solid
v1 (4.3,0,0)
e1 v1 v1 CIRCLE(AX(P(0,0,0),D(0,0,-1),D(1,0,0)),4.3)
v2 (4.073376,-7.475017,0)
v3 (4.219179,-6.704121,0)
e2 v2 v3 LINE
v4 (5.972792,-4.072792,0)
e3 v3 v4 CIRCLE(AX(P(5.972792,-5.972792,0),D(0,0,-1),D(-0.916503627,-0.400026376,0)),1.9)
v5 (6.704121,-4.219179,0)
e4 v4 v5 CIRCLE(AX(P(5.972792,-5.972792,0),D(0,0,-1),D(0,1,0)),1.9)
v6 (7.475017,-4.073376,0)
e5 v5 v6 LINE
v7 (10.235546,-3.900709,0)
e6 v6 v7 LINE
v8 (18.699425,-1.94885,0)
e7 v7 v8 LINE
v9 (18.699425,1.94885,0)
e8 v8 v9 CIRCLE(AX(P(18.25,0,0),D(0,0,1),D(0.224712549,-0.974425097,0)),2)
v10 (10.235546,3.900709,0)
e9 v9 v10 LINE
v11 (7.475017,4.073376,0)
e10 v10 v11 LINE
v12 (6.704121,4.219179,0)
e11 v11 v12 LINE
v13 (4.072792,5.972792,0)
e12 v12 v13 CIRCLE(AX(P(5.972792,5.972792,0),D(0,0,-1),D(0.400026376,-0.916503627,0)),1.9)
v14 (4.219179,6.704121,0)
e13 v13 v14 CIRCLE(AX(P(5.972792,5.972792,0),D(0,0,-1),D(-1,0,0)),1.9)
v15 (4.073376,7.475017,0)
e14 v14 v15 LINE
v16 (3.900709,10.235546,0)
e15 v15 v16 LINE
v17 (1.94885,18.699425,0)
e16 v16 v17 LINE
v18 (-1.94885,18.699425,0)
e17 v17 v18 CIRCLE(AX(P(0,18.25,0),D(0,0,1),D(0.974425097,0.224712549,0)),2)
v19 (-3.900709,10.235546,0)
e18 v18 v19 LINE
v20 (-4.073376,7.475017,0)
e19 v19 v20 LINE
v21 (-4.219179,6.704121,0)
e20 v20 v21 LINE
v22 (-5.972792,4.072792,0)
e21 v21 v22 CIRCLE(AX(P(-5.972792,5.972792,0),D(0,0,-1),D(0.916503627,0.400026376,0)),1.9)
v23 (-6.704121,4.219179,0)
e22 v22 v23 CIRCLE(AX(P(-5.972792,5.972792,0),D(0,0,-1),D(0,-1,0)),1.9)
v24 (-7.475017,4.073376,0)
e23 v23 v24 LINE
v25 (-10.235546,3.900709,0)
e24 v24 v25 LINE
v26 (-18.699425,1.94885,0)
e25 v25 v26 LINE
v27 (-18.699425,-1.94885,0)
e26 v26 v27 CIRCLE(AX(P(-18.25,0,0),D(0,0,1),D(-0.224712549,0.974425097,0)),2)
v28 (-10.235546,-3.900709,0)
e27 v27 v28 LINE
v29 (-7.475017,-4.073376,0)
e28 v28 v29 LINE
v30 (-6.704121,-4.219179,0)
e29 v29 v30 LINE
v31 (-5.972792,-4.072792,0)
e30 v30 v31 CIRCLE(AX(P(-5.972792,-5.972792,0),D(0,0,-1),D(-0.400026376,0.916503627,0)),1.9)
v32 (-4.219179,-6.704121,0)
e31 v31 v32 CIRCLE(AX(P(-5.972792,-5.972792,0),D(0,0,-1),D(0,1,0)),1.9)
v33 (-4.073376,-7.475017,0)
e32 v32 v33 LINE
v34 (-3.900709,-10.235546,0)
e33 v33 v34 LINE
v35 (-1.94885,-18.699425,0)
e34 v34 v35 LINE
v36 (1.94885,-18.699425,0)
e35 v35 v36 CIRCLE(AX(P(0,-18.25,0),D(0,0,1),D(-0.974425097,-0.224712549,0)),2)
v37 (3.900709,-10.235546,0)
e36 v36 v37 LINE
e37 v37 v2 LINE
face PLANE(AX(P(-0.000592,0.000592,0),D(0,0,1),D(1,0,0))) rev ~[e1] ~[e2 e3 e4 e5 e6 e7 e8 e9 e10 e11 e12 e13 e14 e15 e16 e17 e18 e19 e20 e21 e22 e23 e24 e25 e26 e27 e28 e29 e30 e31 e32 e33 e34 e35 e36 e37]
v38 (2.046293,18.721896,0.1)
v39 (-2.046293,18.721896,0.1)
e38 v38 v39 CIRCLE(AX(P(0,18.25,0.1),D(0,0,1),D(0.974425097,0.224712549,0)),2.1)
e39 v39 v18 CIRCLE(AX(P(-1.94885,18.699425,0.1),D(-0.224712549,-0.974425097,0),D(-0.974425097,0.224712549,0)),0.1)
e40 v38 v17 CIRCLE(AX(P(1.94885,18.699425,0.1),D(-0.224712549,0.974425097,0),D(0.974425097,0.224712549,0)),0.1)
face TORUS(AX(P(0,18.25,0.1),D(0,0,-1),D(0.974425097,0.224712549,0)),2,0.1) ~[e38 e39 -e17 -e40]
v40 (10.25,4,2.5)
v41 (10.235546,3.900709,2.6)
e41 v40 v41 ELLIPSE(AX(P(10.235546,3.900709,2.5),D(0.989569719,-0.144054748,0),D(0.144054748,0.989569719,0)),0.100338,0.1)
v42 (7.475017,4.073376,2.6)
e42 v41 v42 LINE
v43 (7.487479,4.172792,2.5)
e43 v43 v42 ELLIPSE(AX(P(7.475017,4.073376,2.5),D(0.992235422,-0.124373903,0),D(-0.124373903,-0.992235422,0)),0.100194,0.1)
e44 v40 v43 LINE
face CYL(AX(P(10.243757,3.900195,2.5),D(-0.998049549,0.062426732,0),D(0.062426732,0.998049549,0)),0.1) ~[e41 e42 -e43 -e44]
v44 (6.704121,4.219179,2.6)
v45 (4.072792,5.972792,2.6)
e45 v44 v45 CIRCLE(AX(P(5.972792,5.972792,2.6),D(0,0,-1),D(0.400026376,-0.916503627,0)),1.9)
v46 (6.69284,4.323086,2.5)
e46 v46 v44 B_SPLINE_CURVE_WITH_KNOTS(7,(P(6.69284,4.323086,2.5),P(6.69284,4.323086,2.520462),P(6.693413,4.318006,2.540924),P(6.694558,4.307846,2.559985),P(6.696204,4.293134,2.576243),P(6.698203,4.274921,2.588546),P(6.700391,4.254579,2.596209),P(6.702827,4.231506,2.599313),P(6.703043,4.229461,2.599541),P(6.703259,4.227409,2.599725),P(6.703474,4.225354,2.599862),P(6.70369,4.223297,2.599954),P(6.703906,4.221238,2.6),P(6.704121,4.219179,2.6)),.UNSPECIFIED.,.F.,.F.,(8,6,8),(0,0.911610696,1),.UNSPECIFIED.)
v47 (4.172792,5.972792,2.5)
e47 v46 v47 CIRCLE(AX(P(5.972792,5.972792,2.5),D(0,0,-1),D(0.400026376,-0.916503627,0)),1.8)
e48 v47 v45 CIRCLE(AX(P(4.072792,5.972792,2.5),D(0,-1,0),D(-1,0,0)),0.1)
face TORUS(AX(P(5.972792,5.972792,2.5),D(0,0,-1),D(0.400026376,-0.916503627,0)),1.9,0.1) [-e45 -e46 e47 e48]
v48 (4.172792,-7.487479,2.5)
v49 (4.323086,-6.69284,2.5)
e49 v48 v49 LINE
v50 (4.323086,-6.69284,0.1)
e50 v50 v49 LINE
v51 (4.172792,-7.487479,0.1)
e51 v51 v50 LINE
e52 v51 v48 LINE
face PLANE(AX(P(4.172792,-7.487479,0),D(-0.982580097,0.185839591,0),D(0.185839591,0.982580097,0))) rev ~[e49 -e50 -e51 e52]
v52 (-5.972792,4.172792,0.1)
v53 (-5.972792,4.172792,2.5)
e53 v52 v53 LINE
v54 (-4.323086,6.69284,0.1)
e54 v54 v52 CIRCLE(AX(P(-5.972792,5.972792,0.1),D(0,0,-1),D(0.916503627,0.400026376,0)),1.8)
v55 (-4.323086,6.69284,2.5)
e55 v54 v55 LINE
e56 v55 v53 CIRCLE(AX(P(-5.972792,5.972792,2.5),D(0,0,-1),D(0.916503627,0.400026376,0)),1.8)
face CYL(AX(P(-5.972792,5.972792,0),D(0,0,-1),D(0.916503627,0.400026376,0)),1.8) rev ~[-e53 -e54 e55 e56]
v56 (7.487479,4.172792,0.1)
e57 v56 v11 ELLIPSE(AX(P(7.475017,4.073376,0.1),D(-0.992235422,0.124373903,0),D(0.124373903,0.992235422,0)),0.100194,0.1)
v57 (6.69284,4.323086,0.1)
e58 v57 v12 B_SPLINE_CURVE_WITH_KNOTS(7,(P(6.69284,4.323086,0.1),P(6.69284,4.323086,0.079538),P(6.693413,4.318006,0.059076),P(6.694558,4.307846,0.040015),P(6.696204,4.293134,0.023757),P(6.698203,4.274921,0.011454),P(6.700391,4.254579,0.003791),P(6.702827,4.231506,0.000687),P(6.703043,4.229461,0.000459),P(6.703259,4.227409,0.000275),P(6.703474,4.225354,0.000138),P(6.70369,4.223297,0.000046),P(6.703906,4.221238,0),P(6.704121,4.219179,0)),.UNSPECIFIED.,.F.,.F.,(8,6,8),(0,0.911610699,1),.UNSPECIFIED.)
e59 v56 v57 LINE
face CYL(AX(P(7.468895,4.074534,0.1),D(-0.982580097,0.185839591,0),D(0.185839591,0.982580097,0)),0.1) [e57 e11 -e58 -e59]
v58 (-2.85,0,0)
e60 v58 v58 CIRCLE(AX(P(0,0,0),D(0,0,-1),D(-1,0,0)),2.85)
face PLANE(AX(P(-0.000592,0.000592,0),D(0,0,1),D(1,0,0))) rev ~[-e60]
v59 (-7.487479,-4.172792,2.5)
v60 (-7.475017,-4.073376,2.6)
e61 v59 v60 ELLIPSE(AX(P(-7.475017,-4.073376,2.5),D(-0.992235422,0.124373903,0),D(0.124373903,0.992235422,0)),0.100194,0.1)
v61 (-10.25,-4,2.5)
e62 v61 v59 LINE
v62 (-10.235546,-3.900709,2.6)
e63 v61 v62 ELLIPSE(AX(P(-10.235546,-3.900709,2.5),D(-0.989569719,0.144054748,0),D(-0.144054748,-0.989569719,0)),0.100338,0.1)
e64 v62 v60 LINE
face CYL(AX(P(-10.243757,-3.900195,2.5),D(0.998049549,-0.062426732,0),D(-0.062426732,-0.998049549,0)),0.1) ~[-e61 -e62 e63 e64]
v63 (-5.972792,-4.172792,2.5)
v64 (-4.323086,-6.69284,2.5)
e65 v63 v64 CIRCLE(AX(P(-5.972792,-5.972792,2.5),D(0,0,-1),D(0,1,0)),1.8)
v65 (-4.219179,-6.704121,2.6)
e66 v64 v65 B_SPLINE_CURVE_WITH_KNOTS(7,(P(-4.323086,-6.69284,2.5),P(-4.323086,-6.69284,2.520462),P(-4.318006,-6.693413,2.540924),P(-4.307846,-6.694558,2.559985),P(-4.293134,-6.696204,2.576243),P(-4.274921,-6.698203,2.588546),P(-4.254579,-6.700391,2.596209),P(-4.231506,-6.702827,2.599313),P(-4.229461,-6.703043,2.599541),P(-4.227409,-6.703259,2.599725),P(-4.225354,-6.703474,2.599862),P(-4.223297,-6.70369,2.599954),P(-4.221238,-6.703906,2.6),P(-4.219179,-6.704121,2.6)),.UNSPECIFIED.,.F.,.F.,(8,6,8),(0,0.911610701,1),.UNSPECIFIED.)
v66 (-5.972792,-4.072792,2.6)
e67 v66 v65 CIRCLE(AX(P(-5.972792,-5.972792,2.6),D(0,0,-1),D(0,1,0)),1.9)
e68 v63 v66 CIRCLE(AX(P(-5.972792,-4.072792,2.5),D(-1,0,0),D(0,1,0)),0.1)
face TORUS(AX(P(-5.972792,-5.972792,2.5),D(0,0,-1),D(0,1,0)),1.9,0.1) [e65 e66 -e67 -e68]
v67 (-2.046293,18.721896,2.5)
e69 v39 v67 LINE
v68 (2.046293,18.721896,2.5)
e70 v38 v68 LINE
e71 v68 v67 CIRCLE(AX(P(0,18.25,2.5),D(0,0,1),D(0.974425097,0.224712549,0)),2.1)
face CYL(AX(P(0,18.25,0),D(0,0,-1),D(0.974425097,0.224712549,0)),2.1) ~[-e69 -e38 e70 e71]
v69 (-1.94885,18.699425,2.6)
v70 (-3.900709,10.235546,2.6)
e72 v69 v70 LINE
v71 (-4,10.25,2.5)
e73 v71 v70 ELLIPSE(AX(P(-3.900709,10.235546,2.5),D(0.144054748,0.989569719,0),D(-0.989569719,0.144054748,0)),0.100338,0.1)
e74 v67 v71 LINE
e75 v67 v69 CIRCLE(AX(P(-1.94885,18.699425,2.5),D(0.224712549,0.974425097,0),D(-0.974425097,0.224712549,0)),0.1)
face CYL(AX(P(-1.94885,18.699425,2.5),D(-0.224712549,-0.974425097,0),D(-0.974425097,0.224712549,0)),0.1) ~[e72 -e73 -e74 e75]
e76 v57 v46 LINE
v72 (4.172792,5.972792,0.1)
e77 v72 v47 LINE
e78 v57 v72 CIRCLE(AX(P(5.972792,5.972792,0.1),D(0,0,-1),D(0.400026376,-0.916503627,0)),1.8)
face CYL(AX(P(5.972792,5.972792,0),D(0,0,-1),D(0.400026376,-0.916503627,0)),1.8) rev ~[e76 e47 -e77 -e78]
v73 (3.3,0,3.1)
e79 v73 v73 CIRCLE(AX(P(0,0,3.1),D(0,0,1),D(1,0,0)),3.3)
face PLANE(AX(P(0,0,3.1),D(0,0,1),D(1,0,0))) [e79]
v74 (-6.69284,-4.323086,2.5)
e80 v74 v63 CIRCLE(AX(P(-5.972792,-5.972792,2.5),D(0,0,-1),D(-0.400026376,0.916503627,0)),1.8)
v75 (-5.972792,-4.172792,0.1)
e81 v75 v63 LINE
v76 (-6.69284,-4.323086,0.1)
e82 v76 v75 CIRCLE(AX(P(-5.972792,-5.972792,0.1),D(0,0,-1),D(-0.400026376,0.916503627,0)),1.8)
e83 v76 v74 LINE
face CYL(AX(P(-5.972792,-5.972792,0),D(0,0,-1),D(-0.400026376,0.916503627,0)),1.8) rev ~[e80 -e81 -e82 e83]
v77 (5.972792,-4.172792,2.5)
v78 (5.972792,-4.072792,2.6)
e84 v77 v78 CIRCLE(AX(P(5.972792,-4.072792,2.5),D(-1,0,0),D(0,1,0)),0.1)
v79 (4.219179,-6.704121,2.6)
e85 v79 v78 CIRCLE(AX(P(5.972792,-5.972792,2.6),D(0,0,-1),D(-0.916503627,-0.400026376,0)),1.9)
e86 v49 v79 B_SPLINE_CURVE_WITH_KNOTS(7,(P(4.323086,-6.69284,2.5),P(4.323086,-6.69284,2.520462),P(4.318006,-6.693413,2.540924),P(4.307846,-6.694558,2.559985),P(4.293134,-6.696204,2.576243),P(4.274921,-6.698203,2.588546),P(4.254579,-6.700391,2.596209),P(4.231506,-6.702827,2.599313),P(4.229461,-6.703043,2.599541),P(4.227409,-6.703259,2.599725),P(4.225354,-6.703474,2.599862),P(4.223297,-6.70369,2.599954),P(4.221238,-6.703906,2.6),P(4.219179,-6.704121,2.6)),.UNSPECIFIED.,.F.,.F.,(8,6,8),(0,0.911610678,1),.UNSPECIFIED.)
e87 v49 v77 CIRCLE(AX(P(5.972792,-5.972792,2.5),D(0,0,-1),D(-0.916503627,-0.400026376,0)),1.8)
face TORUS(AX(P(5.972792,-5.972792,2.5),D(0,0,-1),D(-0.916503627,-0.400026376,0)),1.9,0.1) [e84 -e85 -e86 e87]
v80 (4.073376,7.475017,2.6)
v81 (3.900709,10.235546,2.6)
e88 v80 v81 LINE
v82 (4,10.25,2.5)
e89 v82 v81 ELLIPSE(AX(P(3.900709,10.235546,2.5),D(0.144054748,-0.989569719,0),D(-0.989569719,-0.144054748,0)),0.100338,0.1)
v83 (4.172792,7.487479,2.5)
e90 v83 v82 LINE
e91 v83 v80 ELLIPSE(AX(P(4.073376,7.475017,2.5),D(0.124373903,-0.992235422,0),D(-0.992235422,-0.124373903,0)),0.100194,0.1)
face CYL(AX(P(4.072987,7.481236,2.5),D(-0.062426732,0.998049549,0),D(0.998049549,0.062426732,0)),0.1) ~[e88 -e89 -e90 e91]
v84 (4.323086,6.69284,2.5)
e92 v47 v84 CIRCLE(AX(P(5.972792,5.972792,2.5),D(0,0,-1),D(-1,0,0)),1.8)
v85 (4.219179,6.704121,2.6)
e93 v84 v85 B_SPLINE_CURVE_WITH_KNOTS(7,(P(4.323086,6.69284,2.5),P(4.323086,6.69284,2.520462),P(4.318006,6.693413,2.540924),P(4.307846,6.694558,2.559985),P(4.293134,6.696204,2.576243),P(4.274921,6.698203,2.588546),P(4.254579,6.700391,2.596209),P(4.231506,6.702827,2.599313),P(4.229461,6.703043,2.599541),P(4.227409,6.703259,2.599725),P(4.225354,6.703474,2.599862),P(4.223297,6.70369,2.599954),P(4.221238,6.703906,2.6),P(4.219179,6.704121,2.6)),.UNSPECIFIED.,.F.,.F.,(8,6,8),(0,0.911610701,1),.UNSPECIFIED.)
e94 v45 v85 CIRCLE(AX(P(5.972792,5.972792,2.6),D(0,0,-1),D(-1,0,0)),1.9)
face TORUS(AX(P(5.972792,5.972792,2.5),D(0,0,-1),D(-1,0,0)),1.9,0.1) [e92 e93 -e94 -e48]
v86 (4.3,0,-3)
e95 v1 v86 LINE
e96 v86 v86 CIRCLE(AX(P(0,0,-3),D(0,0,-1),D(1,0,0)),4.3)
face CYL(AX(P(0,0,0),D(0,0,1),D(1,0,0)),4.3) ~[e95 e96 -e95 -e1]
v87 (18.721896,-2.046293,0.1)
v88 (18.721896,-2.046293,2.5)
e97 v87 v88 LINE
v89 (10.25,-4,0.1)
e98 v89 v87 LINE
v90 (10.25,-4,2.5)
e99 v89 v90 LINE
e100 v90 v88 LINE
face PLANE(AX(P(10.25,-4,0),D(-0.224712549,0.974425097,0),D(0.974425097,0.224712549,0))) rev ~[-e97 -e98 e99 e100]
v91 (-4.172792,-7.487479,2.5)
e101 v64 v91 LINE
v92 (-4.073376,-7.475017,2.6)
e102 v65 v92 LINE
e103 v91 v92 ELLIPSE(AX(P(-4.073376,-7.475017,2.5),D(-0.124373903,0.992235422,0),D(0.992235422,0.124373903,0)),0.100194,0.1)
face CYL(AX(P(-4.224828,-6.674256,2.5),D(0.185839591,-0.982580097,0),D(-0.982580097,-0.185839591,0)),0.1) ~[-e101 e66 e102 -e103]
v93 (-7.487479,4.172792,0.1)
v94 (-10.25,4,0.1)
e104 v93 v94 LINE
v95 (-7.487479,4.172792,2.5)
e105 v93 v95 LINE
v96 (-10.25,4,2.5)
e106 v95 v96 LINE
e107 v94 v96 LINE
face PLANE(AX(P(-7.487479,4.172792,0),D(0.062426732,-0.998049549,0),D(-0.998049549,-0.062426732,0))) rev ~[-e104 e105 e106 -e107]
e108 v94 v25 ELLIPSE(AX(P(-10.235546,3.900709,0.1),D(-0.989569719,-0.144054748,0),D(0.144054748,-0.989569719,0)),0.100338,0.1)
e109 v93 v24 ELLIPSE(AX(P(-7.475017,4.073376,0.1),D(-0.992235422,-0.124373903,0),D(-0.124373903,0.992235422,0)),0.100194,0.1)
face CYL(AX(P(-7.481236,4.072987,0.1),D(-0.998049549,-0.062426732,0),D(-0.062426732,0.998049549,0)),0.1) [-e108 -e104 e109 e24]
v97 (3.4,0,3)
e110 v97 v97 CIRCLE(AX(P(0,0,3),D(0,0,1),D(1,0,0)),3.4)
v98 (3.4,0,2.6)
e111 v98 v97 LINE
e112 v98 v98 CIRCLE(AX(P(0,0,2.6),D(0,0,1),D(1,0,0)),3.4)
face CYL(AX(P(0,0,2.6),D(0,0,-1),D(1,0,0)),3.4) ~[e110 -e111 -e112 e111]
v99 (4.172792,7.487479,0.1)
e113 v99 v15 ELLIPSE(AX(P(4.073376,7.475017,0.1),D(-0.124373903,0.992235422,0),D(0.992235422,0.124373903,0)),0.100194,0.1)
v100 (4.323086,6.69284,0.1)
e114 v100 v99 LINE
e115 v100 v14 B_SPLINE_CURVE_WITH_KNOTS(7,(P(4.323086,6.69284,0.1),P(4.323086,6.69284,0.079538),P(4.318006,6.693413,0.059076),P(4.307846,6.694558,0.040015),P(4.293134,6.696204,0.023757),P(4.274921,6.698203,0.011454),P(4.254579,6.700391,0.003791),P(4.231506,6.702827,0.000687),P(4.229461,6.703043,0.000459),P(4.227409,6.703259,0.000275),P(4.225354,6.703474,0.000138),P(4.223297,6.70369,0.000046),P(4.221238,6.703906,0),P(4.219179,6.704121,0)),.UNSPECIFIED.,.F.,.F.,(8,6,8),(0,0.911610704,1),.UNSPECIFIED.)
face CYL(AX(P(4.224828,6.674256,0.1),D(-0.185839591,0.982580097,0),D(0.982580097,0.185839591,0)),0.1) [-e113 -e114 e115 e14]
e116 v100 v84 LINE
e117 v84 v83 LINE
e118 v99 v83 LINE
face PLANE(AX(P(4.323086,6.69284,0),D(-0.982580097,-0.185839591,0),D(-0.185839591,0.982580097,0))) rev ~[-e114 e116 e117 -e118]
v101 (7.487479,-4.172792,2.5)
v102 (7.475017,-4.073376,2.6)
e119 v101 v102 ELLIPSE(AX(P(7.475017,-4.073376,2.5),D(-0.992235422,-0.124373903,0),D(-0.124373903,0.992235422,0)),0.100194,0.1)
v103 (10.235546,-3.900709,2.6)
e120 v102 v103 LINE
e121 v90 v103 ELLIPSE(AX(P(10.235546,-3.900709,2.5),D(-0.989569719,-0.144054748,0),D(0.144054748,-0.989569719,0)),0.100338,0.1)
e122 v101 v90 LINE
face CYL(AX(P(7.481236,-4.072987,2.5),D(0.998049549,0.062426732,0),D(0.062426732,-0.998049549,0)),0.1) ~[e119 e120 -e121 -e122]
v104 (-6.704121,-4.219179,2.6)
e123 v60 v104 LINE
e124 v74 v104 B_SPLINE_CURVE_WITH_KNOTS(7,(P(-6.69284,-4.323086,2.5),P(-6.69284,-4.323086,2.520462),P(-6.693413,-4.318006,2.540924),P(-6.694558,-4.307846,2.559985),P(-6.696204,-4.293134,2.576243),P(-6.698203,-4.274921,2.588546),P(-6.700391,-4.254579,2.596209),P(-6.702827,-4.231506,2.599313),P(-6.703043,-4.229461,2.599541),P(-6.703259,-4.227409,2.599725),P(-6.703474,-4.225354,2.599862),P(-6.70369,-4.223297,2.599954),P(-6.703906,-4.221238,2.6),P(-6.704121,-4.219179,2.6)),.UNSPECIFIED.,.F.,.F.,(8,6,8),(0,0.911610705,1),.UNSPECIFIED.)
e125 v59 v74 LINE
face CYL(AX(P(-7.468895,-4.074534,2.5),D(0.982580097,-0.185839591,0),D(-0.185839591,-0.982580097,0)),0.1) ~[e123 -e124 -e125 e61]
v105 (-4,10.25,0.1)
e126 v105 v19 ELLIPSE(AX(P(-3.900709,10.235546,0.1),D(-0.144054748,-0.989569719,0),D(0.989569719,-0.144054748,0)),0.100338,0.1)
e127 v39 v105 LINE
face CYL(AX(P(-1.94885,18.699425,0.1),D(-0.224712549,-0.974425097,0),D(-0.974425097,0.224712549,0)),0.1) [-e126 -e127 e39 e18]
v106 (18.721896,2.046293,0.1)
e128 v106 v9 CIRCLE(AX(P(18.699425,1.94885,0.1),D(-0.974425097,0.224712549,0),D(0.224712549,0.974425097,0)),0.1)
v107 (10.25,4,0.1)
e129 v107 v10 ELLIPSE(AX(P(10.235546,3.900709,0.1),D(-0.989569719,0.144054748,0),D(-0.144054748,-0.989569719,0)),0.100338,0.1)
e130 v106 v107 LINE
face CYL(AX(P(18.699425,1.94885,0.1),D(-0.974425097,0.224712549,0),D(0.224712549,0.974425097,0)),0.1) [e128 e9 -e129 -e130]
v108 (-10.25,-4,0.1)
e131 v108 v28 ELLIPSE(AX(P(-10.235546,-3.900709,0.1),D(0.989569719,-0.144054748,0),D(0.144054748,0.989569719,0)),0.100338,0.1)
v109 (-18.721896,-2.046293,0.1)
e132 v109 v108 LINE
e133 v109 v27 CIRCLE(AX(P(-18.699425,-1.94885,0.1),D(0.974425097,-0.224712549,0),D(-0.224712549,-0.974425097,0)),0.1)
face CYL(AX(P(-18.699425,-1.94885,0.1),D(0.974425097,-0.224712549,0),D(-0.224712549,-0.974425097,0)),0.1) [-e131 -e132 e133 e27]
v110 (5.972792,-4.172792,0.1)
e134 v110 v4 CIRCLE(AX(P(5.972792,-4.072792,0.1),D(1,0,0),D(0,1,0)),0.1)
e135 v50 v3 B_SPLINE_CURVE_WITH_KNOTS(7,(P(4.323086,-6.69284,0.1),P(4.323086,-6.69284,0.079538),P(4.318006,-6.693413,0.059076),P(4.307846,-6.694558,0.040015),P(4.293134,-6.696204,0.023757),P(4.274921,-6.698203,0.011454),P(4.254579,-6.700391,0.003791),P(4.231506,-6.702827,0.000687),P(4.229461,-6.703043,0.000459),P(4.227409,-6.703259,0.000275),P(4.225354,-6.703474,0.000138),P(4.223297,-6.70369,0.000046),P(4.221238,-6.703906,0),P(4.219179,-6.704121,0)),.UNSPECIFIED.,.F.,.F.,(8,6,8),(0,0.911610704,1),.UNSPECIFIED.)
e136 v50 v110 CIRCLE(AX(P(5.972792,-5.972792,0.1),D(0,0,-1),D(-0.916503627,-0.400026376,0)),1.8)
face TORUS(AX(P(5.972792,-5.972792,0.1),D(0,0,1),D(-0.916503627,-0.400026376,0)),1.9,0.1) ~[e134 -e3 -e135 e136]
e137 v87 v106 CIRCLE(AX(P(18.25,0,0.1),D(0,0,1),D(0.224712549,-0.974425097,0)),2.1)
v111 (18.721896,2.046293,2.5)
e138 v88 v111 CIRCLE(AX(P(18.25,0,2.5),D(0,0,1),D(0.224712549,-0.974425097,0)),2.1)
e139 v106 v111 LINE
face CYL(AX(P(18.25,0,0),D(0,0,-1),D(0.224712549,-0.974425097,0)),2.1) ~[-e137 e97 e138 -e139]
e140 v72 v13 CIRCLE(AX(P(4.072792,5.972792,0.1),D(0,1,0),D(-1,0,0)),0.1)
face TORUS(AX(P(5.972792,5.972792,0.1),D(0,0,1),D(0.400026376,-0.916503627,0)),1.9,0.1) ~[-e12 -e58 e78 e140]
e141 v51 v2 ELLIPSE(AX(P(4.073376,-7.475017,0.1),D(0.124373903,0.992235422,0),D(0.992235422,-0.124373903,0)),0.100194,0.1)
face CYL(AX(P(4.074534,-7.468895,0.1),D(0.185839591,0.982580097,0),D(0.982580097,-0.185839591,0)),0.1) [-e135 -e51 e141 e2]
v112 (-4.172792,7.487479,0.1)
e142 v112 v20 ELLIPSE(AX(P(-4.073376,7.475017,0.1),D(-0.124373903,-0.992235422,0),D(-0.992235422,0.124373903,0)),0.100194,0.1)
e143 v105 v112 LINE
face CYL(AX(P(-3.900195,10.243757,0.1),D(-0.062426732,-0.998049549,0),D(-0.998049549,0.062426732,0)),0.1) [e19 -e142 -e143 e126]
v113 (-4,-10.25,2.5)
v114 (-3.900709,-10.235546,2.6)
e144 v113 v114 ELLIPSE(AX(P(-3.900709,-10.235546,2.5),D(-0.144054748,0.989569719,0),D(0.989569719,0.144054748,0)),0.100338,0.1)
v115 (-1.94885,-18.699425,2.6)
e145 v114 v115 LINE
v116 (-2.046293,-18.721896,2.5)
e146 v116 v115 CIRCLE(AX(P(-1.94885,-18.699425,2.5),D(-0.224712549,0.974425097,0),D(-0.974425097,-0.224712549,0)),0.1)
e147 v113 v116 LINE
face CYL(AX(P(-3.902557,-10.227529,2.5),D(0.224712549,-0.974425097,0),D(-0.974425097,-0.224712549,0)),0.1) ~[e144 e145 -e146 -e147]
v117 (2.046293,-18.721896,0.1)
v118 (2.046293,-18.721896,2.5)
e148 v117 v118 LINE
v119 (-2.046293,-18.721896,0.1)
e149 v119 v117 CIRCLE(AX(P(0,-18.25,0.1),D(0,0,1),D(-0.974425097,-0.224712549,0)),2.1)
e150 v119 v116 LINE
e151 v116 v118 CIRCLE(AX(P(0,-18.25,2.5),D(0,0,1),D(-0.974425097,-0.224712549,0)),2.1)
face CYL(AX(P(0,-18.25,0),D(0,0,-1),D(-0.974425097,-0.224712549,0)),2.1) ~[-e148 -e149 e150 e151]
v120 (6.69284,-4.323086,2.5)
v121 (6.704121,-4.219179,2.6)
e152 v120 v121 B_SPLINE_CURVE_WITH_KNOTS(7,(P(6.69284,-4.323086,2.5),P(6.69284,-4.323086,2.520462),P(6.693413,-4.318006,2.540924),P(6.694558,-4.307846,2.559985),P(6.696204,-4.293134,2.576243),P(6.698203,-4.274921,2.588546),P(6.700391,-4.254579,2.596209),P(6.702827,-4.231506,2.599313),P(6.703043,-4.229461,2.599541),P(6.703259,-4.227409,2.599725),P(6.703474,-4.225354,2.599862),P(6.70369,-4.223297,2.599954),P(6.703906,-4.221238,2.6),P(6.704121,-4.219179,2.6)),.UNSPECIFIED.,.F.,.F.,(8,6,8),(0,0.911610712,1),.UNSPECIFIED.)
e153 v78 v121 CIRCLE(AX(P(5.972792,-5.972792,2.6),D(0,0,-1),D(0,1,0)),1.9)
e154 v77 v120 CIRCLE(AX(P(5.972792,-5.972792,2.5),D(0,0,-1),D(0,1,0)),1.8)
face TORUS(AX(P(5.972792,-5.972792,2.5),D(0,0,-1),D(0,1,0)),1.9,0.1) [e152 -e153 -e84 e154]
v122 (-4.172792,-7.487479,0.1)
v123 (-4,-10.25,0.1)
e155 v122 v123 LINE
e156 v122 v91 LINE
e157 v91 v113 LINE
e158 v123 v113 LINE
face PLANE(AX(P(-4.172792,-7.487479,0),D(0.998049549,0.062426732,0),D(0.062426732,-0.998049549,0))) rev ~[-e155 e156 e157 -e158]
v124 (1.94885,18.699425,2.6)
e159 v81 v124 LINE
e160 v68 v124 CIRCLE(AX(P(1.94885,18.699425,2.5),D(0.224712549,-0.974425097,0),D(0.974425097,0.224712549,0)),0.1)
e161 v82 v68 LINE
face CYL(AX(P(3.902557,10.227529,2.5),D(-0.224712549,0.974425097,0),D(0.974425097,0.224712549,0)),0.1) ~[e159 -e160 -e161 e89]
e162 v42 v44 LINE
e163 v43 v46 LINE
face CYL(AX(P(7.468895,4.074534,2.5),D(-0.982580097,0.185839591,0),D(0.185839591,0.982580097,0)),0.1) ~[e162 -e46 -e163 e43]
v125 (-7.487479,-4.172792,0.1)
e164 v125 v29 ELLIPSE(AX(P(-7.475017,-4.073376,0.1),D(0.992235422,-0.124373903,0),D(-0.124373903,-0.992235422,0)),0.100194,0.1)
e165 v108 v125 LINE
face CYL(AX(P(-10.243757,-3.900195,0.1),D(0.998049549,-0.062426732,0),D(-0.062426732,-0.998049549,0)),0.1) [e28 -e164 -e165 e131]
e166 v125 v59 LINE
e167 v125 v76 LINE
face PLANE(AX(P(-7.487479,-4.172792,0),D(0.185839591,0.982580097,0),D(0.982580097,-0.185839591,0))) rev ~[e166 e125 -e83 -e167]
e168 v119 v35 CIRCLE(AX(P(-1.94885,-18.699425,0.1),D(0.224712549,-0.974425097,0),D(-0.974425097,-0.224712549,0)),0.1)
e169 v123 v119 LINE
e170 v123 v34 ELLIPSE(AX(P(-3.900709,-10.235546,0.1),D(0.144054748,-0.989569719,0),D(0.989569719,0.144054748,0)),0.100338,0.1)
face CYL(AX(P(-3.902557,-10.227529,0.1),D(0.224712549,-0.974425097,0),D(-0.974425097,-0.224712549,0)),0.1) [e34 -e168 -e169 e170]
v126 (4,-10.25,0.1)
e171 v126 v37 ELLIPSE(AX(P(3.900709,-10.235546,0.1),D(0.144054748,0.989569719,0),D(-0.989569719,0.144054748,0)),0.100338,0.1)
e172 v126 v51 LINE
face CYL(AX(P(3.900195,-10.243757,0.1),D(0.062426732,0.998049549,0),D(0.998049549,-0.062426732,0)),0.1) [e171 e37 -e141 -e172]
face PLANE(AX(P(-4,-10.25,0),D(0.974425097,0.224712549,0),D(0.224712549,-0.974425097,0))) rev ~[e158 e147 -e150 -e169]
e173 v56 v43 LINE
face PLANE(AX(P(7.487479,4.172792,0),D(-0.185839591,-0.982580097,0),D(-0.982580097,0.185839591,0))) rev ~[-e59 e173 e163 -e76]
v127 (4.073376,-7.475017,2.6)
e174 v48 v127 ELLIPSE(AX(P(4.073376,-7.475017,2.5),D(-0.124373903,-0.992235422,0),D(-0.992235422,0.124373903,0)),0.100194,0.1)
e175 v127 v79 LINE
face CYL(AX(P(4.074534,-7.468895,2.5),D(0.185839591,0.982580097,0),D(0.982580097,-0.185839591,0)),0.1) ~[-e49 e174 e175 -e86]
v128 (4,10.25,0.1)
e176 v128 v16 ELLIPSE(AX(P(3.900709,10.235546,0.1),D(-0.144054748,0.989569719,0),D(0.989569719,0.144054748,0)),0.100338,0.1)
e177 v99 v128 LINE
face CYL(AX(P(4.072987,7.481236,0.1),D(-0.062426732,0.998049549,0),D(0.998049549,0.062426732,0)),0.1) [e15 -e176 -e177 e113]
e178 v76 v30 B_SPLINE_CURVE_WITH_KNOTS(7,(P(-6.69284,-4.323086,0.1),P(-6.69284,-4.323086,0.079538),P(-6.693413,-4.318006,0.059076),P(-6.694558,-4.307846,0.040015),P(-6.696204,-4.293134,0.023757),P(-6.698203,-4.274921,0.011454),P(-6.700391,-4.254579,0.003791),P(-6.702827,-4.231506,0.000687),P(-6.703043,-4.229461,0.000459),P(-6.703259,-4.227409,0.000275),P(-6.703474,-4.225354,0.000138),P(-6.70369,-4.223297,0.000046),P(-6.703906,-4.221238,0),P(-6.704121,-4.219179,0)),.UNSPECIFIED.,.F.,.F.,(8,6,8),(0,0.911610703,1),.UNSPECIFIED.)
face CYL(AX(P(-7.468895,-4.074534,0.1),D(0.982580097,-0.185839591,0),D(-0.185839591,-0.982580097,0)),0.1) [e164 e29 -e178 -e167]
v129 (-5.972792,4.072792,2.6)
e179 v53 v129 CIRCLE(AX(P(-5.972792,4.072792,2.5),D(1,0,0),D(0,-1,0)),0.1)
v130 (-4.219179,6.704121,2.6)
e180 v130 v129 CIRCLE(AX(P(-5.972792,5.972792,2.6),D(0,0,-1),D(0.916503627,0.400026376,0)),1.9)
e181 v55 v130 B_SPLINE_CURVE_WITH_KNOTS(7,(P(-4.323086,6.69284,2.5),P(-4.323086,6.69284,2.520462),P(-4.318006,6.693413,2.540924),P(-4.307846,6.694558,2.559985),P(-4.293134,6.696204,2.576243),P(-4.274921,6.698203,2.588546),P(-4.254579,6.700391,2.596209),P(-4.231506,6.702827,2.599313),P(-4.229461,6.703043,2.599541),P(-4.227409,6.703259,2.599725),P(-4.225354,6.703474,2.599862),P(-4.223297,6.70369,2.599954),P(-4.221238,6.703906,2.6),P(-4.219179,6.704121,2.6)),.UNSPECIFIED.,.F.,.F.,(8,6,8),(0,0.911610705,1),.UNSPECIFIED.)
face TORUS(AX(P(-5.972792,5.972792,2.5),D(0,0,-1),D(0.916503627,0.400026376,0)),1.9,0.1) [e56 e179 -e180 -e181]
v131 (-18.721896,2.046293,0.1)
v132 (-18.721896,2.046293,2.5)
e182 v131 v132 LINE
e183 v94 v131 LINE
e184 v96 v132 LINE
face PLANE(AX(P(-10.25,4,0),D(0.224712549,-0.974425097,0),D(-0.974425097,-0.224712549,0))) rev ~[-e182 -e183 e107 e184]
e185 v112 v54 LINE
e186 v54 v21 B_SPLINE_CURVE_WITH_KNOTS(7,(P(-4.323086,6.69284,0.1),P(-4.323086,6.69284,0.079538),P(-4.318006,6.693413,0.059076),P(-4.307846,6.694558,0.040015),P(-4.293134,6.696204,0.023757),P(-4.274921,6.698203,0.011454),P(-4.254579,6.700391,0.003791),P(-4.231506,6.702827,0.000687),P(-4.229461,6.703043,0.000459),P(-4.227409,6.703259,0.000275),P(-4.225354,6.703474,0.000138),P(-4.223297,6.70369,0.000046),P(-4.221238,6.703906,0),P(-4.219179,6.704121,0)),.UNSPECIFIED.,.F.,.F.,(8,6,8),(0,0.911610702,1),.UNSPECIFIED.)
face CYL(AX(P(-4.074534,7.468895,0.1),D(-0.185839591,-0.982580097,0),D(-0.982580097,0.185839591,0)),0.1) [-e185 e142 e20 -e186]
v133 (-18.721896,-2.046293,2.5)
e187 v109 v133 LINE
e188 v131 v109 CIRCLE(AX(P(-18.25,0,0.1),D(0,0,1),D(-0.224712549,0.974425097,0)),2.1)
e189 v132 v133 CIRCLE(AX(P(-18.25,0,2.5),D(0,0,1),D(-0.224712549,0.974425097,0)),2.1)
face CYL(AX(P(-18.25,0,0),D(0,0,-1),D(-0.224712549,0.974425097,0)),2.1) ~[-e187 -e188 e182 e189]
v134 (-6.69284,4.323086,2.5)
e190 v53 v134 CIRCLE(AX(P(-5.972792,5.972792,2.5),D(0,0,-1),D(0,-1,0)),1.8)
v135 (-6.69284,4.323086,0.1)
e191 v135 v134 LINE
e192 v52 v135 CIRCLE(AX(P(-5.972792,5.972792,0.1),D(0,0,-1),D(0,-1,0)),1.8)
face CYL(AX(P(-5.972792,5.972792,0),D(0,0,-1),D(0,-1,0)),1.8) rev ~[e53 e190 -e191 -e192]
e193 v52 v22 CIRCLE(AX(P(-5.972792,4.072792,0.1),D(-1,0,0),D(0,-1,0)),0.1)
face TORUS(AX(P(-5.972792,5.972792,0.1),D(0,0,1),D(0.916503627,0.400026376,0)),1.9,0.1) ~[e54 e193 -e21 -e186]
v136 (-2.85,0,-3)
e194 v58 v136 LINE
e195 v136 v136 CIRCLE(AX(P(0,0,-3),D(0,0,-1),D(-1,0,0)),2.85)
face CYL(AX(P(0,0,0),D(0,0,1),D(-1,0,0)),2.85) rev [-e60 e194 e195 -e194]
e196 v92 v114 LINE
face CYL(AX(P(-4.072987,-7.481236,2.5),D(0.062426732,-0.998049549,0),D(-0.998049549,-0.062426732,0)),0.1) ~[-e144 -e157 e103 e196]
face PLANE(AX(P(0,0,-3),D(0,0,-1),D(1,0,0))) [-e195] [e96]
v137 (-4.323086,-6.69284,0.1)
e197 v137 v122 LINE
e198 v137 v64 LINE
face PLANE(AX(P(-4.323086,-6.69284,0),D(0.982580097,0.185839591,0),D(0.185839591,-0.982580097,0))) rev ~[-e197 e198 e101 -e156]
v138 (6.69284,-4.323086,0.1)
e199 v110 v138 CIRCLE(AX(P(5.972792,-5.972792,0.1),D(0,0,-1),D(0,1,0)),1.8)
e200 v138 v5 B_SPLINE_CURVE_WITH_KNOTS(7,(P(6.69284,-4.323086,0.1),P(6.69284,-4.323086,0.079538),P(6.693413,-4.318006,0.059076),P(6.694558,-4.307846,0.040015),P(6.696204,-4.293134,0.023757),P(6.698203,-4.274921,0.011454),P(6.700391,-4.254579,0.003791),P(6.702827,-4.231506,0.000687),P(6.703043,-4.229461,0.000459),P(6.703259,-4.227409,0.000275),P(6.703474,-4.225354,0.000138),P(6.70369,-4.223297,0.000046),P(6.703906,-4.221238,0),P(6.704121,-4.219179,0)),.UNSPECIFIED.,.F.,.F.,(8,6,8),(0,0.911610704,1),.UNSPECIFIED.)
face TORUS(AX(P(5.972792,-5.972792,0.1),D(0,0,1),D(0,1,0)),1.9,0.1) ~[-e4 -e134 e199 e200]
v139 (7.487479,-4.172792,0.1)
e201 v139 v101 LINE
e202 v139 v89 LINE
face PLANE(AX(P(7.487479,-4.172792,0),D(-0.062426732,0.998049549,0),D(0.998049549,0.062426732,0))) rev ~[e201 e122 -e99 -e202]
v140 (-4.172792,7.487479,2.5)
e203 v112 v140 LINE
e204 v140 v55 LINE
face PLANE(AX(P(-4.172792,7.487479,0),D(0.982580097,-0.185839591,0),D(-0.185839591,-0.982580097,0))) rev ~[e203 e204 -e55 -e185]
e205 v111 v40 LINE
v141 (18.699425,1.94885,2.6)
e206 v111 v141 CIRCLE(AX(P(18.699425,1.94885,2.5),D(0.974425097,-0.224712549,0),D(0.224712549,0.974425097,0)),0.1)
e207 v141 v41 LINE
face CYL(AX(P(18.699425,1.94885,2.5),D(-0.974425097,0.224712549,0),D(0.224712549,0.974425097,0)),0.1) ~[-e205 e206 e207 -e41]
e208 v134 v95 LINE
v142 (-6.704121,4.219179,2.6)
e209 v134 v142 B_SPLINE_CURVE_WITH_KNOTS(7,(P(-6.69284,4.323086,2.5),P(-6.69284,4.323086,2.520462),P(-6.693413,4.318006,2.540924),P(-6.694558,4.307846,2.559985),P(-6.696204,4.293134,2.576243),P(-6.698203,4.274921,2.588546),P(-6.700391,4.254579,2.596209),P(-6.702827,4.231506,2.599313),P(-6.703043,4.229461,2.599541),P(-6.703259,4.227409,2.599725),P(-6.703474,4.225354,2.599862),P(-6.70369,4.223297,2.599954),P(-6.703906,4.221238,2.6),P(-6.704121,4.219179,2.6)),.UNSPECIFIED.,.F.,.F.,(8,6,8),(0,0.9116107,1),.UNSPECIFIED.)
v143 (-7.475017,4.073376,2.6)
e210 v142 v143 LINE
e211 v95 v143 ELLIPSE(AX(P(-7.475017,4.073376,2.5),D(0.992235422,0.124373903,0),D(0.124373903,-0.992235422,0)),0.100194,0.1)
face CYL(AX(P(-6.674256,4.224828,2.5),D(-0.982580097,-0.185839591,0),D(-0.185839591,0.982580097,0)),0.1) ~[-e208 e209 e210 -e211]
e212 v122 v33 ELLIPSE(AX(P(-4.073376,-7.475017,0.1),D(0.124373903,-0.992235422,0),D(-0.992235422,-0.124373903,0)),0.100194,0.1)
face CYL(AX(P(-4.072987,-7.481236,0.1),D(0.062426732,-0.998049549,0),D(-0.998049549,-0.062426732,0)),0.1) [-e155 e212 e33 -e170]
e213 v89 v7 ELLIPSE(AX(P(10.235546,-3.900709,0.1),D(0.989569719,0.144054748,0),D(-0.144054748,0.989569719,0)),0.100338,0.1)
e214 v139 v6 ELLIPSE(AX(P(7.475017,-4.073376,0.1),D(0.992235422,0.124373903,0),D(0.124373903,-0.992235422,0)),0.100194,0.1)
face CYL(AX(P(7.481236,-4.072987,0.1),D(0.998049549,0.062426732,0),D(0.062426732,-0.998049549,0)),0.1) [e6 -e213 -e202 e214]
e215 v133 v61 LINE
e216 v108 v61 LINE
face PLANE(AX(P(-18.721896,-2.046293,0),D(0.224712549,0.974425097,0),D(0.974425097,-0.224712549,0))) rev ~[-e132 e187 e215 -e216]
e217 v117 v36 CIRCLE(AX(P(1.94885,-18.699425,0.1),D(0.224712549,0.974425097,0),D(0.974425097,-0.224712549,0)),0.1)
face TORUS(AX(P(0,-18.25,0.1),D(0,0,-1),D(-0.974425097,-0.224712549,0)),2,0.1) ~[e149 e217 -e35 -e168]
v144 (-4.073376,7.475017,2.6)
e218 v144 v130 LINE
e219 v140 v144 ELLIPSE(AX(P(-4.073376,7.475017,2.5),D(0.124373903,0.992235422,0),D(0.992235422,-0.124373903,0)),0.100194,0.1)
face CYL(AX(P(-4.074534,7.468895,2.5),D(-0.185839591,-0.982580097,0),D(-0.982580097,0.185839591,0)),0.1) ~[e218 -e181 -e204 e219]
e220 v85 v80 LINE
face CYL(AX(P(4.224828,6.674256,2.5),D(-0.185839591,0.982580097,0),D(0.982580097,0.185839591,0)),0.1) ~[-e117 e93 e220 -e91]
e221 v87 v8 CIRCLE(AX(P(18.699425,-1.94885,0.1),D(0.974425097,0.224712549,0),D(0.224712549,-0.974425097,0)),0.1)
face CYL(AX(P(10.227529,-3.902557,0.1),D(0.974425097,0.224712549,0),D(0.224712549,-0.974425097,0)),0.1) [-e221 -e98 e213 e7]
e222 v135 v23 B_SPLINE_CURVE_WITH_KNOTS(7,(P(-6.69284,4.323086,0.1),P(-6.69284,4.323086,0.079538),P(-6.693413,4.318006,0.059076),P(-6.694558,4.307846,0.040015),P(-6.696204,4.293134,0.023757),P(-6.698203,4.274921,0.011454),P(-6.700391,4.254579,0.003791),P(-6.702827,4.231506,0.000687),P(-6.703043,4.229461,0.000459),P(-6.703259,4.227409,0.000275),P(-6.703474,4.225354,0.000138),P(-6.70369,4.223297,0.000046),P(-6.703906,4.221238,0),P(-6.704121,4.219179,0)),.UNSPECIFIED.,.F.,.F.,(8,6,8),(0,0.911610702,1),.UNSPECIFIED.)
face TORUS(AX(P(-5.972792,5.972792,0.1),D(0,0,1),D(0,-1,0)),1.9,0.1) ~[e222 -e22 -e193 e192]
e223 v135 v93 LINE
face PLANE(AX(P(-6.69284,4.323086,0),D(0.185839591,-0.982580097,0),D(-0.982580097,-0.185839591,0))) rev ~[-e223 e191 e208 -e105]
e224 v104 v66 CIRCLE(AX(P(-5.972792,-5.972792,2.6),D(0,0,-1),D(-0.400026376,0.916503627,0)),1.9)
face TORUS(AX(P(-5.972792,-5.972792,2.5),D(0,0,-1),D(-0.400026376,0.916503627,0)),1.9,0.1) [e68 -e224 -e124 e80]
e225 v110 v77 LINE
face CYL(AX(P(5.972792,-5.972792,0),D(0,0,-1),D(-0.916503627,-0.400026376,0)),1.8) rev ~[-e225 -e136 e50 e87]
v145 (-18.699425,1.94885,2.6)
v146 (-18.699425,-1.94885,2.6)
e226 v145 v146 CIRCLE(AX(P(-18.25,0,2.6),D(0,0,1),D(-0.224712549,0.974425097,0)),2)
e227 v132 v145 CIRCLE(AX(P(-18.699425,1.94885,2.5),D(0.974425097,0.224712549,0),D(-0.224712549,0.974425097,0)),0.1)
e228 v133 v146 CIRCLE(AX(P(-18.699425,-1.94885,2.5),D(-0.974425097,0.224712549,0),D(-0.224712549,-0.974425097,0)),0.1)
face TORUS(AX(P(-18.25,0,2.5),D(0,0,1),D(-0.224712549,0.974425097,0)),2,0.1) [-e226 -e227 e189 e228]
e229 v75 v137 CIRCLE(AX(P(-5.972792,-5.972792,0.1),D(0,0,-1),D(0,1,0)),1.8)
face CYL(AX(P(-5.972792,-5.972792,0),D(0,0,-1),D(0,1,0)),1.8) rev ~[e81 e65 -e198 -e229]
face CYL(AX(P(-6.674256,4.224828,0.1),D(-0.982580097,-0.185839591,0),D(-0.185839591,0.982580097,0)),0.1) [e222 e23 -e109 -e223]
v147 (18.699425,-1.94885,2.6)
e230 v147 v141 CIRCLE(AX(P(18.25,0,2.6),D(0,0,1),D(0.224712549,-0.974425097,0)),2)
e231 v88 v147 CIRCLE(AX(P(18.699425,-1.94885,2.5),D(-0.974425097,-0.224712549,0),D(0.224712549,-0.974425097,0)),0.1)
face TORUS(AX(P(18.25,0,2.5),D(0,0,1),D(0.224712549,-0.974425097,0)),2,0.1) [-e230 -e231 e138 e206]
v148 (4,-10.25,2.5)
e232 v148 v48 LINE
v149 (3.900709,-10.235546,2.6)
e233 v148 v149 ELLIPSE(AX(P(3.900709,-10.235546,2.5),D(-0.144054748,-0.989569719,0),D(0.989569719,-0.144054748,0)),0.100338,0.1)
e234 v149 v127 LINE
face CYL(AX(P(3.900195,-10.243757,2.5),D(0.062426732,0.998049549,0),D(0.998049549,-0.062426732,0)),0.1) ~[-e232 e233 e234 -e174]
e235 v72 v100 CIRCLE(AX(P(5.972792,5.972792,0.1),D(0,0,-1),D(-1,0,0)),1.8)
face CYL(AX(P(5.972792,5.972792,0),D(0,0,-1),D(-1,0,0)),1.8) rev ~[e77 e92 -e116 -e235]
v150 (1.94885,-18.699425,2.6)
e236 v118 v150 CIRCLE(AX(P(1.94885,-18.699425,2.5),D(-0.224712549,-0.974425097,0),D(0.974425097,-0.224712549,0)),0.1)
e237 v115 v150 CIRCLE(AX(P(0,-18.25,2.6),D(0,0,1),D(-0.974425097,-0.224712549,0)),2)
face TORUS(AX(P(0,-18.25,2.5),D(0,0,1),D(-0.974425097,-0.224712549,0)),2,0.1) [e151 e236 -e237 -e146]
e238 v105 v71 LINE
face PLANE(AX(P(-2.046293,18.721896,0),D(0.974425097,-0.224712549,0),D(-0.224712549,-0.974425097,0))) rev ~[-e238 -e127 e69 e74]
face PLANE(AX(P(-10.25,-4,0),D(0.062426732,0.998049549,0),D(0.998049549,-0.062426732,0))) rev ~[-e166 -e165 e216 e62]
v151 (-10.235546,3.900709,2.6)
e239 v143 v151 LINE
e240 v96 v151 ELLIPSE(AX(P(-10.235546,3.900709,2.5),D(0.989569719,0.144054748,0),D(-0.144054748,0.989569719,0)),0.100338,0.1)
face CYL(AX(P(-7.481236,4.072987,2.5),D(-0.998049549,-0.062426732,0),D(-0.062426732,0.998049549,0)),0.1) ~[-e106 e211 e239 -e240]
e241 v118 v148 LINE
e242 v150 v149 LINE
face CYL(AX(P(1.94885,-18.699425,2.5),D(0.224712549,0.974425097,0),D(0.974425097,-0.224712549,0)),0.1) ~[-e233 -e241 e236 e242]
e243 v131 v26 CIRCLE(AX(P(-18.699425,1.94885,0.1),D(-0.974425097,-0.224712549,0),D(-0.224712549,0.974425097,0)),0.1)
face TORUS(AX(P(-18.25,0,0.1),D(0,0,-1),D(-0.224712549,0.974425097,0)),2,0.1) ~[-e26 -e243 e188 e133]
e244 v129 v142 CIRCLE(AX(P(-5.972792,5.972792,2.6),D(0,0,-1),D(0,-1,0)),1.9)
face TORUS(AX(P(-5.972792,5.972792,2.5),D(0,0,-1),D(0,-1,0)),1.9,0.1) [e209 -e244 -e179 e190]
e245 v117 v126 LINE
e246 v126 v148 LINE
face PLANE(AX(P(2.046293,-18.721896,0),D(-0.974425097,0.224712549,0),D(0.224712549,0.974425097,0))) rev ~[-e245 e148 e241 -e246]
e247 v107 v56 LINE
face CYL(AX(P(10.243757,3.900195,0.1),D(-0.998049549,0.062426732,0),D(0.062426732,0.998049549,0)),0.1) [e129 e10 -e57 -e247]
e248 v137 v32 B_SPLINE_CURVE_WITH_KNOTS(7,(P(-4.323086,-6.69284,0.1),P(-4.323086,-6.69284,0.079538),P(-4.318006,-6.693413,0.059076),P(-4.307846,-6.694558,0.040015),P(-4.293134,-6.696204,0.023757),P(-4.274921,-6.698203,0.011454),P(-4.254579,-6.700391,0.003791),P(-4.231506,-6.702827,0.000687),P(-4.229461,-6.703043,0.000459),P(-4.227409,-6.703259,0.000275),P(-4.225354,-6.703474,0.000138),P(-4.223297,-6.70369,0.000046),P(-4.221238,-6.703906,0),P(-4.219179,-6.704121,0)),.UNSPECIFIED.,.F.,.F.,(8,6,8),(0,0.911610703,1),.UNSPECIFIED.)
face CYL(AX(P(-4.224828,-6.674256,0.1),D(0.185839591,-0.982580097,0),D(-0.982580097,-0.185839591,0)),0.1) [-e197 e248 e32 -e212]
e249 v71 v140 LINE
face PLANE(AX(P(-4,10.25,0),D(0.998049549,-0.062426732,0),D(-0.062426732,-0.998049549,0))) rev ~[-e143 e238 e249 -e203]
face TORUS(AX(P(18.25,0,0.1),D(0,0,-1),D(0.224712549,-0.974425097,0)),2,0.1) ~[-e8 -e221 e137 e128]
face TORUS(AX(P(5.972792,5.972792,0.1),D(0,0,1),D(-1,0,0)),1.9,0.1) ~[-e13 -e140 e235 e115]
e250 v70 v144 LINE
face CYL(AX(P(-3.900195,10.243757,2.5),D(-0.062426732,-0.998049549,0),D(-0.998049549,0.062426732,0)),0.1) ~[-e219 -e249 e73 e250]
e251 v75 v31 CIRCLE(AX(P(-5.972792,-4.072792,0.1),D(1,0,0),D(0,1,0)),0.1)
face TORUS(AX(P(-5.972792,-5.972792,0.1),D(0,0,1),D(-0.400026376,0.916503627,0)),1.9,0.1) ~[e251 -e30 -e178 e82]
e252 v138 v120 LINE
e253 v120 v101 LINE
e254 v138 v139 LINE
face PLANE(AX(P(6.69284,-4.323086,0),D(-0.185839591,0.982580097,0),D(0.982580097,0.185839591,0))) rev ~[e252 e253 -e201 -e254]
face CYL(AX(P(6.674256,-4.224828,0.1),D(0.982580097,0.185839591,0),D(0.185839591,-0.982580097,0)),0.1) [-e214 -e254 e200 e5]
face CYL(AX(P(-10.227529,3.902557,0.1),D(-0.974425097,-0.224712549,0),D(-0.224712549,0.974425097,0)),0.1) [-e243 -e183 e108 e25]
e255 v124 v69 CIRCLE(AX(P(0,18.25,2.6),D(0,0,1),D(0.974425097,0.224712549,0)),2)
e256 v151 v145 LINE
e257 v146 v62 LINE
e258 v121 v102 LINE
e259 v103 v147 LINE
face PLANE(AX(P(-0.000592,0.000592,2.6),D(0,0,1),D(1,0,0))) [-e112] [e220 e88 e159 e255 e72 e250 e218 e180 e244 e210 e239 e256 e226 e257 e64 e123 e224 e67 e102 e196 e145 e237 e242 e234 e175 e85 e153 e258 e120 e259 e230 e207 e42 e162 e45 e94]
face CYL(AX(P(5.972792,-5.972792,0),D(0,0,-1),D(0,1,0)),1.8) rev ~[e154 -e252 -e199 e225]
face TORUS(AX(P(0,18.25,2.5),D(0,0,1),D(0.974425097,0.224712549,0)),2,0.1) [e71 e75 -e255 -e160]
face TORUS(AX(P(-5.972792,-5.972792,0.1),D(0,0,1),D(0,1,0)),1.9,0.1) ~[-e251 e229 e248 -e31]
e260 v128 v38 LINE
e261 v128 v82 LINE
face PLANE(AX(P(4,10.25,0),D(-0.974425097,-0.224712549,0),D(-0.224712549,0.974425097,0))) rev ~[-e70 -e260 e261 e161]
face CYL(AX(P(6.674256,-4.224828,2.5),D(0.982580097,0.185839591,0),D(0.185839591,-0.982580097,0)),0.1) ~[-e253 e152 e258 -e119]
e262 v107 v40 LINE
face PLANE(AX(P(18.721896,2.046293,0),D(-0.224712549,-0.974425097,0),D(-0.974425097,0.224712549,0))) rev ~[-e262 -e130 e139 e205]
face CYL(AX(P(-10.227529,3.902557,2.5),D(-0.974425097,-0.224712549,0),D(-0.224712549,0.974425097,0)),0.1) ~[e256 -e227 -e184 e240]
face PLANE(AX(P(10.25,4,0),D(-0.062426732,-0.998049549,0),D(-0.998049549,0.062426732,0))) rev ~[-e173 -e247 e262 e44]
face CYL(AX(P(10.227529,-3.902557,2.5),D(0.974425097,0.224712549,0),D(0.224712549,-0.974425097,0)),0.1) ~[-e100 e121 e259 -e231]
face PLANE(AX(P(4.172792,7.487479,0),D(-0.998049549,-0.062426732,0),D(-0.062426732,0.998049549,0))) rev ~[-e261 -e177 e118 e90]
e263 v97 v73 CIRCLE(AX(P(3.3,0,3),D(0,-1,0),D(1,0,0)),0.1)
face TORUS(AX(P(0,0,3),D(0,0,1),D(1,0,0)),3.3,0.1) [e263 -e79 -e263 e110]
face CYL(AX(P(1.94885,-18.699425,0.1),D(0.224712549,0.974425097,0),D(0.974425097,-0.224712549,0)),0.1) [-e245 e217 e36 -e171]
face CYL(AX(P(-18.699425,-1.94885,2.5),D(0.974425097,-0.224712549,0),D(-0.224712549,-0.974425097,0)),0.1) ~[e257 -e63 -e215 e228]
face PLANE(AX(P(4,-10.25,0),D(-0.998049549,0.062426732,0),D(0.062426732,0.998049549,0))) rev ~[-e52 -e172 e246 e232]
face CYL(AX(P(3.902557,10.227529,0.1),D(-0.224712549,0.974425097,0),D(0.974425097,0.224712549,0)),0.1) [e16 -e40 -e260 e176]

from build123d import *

# Parameters (mm, degrees)
BOSS_EXTRUDE2_DEPTH = 2.6
FILLET1_R           = 0.1
SKETCH2_R           = 3.4
BOSS_EXTRUDE3_DEPTH = 0.5
FILLET2_R           = 0.1
SKETCH3_R           = 4.3
SKETCH3_R_2         = 2.85
BOSS_EXTRUDE4_DEPTH = 3


with BuildPart() as part:
    # Sketch1 → Boss-Extrude2 (new body)
    with BuildSketch(Plane.XY):
        with BuildLine():
            Line((18.721896352261183, 2.0462927046907793), (10.24999999998816, 4.0000000001268905))
            Line((10.24999999998816, 4.0000000001268905), (7.487478615295318, 4.172792206255373))
            Line((7.487478615295318, 4.172792206255373), (6.692839683690129, 4.323085677830108))
            ThreePointArc((6.692839683690129, 4.323085677830108), (6.340574919641972, 4.210766135063346), (5.97279220606129, 4.1727922062638525))
            ThreePointArc((5.97279220606129, 4.1727922062638525), (4.699999999932812, 4.700000000124923), (4.172792206071609, 5.972792206253347))
            ThreePointArc((4.17279220607161, 5.972792206253347), (4.2107661348710455, 6.340574919845243), (4.3230856776418225, 6.692839683903823))
            Line((4.3230856776418225, 6.692839683903823), (4.17279220607161, 7.487478615426204))
            Line((4.17279220607161, 7.487478615426204), (3.9999999999297717, 10.250000000065628))
            Line((3.9999999999297717, 10.250000000065628), (2.0462927044830552, 18.721896352342263))
            ThreePointArc((2.0462927044830543, 18.721896352342263), (-7.511552e-11, 20.350000000065624), (-2.0462927046257122, 18.721896352332745))
            Line((-2.046292704625701, 18.72189635233274), (-4.000000000061814, 10.25000000005972))
            Line((-4.000000000061814, 10.25000000005972), (-4.172792206190295, 7.487478615366877))
            Line((-4.172792206190295, 7.487478615366877), (-4.323085677765031, 6.6928396837616875))
            ThreePointArc((-4.323085677765031, 6.692839683761688), (-4.210766134998268, 6.3405749197135295), (-4.172792206198776, 5.972792206132848))
            ThreePointArc((-4.172792206198776, 5.972792206132848), (-4.700000000059848, 4.700000000004372), (-5.97279220618827, 4.172792206143169))
            ThreePointArc((-5.97279220618827, 4.172792206143168), (-6.340574919780166, 4.210766134942603), (-6.692839683838746, 4.32308567771338))
            Line((-6.692839683838746, 4.32308567771338), (-7.487478615361126, 4.172792206143169))
            Line((-7.487478615361126, 4.172792206143169), (-10.250000000000549, 4.000000000001329))
            Line((-10.250000000000549, 4.000000000001329), (-18.721896352277188, 2.046292704554615))
            ThreePointArc((-18.721896352277188, 2.046292704554615), (-20.350000000000552, -3.55788e-12), (-18.721896352267663, -2.0462927045541535))
            Line((-18.721896352267663, -2.046292704554146), (-10.249999999994643, -3.9999999999902545))
            Line((-10.249999999994643, -3.9999999999902545), (-7.487478615301801, -4.172792206118737))
            Line((-7.487478615301801, -4.172792206118737), (-6.69283968369661, -4.323085677693474))
            ThreePointArc((-6.69283968369661, -4.323085677693474), (-6.340574919648453, -4.210766134926712), (-5.972792206067772, -4.172792206127219))
            ThreePointArc((-5.972792206067772, -4.172792206127216), (-4.6999999999422934, -4.699999999991288), (-4.17279220607809, -5.972792206116711))
            ThreePointArc((-4.17279220607809, -5.972792206116711), (-4.210766134877526, -6.340574919708608), (-4.3230856776483035, -6.692839683767188))
            Line((-4.3230856776483035, -6.692839683767188), (-4.172792206078089, -7.487478615289569))
            Line((-4.172792206078089, -7.487478615289569), (-3.9999999999362505, -10.24999999992899))
            Line((-3.9999999999362505, -10.24999999992899), (-2.046292704489525, -18.721896352205633))
            ThreePointArc((-2.0462927044895256, -18.721896352205633), (6.863898e-11, -20.34999999992897), (2.0462927046192254, -18.721896352196108))
            Line((2.0462927046192214, -18.721896352196104), (4.0000000000553335, -10.249999999923082))
            Line((4.0000000000553335, -10.249999999923082), (4.172792206183815, -7.487478615230241))
            Line((4.172792206183815, -7.487478615230241), (4.32308567775855, -6.692839683625052))
            ThreePointArc((4.32308567775855, -6.692839683625052), (4.210766134991787, -6.340574919576894), (4.172792206192295, -5.972792205996212))
            ThreePointArc((4.172792206192295, -5.972792205996212), (4.700000000053366, -4.699999999867735), (5.972792206181789, -4.172792206006532))
            ThreePointArc((5.972792206181789, -4.17279220600653), (6.340574919773686, -4.210766134805967), (6.692839683832266, -4.323085677576745))
            Line((6.692839683832264, -4.323085677576746), (7.487478615354646, -4.172792206006532))
            Line((7.487478615354646, -4.172792206006532), (10.249999999994067, -3.9999999998646936))
            Line((10.249999999994067, -3.9999999998646936), (18.721896352270708, -2.046292704417977))
            ThreePointArc((18.721896352270708, -2.0462927044179775), (20.349999999994058, 1.4019252e-10), (18.721896352261183, 2.046292704690784))
        make_face()
    extrude(amount=BOSS_EXTRUDE2_DEPTH)

    # Fillet1
    fillet1_edges = [part.edges().sort_by_distance(p)[0] for p in [
        (6.863854e-11, -20.34999999992897, 2.6),
        (3.0231463523372772, -14.485948176059594, 2.6),
        (-7.511575e-11, 20.350000000065624, 2.6),
        (4.086396103119574, -8.86873930757666, 2.6),
        (4.247938941971182, -7.090159149427647, 2.6),
        (4.4667899718396775, -4.98691327320623, 2.6),
        (7.090159149593455, -4.247938941791639, 2.6),
        (8.868739307674357, -4.086396102935613, 2.6),
        (14.485948176132387, -3.0231463521413353, 2.6),
        (20.349999999994058, 1.4019269e-10, 2.6),
        (14.485948176124673, 3.023146352408835, 2.6),
        (-3.0231463523437574, 14.485948176196231, 2.6),
        (8.86873930764174, 4.086396103191132, 2.6),
        (7.090159149492724, 4.24793894204274, 2.6),
        (4.9869132732713055, 4.466789971911235, 2.6),
        (4.247938941856717, 7.090159149665013, 2.6),
        (4.086396103000691, 8.868739307745916, 2.6),
        (-4.086396103126054, 8.868739307713298, 2.6),
        (-4.247938941977663, 7.090159149564283, 2.6),
        (-4.4667899718461594, 4.986913273342866, 2.6),
        (4.086396103000691, 8.868739307745916, 0),
        (4.247938941856717, 7.090159149665013, 0),
        (4.986913273271298, 4.4667899719112345, 0),
        (-7.090159149599936, 4.2479389419282745, 2.6),
        (7.090159149492724, 4.24793894204274, 0),
        (8.86873930764174, 4.086396103191132, 0),
        (14.485948176124673, 3.023146352408835, 0),
        (20.349999999994058, 1.4019269e-10, 0),
        (14.485948176132387, -3.0231463521413353, 0),
        (8.868739307674357, -4.086396102935613, 0),
        (7.090159149593455, -4.247938941791639, 0),
        (4.466789971839679, -4.986913273206239, 0),
        (-8.868739307680837, 4.086396103072248, 2.6),
        (4.247938941971182, -7.090159149427647, 0),
        (4.086396103119574, -8.86873930757666, 0),
        (3.0231463523372772, -14.485948176059594, 0),
        (6.863854e-11, -20.34999999992897, 0),
        (-3.023146352212888, -14.48594817606731, 0),
        (-4.08639610300717, -8.86873930760928, 0),
        (-4.247938941863197, -7.090159149528379, 0),
        (-4.466789971722267, -4.986913273338999, 0),
        (-7.090159149499206, -4.247938941906105, 0),
        (-8.868739307648221, -4.086396103054495, 0),
        (-14.48594817613887, 3.023146352277972, 2.6),
        (-14.485948176131153, -3.0231463522722004, 0),
        (-20.350000000000552, -3.55899e-12, 0),
        (-14.48594817613887, 3.023146352277972, 0),
        (-8.868739307680837, 4.086396103072248, 0),
        (-7.090159149599936, 4.2479389419282745, 0),
        (-4.4667899718461594, 4.986913273342869, 0),
        (-4.247938941977663, 7.090159149564283, 0),
        (-4.086396103126054, 8.868739307713298, 0),
        (-3.0231463523437574, 14.485948176196231, 0),
        (-7.511575e-11, 20.350000000065624, 0),
        (3.0231463522064135, 14.485948176203944, 0),
        (-20.350000000000552, -3.55899e-12, 2.6),
        (3.0231463522064135, 14.485948176203944, 2.6),
        (-14.485948176131153, -3.0231463522722004, 2.6),
        (-8.868739307648221, -4.086396103054495, 2.6),
        (-7.090159149499206, -4.247938941906105, 2.6),
        (-4.466789971722268, -4.9869132733390025, 2.6),
        (-4.247938941863197, -7.090159149528379, 2.6),
        (-4.08639610300717, -8.86873930760928, 2.6),
        (-3.023146352212888, -14.48594817606731, 2.6),
    ]]
    fillet(fillet1_edges, radius=FILLET1_R)

    # Sketch2 → Boss-Extrude3 (add)
    with BuildSketch(Plane.XY.offset(2.6)):
        Circle(SKETCH2_R)
    extrude(amount=BOSS_EXTRUDE3_DEPTH)

    # Fillet2
    fillet2_edges = [part.edges().sort_by_distance(p)[0] for p in [
        (-3.4, 4.2e-16, 3.1),
    ]]
    fillet(fillet2_edges, radius=FILLET2_R)

    # Sketch3 → Boss-Extrude4 (add)
    with BuildSketch(Plane(origin=(0, 0, 0), x_dir=(-1, 0, 0), z_dir=(0, 0, -1))):
        with Locations(Location((0, 0, 0), (0, 0, 180))):
            Circle(SKETCH3_R)
        Circle(SKETCH3_R_2, mode=Mode.SUBTRACT)
    extrude(amount=BOSS_EXTRUDE4_DEPTH)


solid = part.part
